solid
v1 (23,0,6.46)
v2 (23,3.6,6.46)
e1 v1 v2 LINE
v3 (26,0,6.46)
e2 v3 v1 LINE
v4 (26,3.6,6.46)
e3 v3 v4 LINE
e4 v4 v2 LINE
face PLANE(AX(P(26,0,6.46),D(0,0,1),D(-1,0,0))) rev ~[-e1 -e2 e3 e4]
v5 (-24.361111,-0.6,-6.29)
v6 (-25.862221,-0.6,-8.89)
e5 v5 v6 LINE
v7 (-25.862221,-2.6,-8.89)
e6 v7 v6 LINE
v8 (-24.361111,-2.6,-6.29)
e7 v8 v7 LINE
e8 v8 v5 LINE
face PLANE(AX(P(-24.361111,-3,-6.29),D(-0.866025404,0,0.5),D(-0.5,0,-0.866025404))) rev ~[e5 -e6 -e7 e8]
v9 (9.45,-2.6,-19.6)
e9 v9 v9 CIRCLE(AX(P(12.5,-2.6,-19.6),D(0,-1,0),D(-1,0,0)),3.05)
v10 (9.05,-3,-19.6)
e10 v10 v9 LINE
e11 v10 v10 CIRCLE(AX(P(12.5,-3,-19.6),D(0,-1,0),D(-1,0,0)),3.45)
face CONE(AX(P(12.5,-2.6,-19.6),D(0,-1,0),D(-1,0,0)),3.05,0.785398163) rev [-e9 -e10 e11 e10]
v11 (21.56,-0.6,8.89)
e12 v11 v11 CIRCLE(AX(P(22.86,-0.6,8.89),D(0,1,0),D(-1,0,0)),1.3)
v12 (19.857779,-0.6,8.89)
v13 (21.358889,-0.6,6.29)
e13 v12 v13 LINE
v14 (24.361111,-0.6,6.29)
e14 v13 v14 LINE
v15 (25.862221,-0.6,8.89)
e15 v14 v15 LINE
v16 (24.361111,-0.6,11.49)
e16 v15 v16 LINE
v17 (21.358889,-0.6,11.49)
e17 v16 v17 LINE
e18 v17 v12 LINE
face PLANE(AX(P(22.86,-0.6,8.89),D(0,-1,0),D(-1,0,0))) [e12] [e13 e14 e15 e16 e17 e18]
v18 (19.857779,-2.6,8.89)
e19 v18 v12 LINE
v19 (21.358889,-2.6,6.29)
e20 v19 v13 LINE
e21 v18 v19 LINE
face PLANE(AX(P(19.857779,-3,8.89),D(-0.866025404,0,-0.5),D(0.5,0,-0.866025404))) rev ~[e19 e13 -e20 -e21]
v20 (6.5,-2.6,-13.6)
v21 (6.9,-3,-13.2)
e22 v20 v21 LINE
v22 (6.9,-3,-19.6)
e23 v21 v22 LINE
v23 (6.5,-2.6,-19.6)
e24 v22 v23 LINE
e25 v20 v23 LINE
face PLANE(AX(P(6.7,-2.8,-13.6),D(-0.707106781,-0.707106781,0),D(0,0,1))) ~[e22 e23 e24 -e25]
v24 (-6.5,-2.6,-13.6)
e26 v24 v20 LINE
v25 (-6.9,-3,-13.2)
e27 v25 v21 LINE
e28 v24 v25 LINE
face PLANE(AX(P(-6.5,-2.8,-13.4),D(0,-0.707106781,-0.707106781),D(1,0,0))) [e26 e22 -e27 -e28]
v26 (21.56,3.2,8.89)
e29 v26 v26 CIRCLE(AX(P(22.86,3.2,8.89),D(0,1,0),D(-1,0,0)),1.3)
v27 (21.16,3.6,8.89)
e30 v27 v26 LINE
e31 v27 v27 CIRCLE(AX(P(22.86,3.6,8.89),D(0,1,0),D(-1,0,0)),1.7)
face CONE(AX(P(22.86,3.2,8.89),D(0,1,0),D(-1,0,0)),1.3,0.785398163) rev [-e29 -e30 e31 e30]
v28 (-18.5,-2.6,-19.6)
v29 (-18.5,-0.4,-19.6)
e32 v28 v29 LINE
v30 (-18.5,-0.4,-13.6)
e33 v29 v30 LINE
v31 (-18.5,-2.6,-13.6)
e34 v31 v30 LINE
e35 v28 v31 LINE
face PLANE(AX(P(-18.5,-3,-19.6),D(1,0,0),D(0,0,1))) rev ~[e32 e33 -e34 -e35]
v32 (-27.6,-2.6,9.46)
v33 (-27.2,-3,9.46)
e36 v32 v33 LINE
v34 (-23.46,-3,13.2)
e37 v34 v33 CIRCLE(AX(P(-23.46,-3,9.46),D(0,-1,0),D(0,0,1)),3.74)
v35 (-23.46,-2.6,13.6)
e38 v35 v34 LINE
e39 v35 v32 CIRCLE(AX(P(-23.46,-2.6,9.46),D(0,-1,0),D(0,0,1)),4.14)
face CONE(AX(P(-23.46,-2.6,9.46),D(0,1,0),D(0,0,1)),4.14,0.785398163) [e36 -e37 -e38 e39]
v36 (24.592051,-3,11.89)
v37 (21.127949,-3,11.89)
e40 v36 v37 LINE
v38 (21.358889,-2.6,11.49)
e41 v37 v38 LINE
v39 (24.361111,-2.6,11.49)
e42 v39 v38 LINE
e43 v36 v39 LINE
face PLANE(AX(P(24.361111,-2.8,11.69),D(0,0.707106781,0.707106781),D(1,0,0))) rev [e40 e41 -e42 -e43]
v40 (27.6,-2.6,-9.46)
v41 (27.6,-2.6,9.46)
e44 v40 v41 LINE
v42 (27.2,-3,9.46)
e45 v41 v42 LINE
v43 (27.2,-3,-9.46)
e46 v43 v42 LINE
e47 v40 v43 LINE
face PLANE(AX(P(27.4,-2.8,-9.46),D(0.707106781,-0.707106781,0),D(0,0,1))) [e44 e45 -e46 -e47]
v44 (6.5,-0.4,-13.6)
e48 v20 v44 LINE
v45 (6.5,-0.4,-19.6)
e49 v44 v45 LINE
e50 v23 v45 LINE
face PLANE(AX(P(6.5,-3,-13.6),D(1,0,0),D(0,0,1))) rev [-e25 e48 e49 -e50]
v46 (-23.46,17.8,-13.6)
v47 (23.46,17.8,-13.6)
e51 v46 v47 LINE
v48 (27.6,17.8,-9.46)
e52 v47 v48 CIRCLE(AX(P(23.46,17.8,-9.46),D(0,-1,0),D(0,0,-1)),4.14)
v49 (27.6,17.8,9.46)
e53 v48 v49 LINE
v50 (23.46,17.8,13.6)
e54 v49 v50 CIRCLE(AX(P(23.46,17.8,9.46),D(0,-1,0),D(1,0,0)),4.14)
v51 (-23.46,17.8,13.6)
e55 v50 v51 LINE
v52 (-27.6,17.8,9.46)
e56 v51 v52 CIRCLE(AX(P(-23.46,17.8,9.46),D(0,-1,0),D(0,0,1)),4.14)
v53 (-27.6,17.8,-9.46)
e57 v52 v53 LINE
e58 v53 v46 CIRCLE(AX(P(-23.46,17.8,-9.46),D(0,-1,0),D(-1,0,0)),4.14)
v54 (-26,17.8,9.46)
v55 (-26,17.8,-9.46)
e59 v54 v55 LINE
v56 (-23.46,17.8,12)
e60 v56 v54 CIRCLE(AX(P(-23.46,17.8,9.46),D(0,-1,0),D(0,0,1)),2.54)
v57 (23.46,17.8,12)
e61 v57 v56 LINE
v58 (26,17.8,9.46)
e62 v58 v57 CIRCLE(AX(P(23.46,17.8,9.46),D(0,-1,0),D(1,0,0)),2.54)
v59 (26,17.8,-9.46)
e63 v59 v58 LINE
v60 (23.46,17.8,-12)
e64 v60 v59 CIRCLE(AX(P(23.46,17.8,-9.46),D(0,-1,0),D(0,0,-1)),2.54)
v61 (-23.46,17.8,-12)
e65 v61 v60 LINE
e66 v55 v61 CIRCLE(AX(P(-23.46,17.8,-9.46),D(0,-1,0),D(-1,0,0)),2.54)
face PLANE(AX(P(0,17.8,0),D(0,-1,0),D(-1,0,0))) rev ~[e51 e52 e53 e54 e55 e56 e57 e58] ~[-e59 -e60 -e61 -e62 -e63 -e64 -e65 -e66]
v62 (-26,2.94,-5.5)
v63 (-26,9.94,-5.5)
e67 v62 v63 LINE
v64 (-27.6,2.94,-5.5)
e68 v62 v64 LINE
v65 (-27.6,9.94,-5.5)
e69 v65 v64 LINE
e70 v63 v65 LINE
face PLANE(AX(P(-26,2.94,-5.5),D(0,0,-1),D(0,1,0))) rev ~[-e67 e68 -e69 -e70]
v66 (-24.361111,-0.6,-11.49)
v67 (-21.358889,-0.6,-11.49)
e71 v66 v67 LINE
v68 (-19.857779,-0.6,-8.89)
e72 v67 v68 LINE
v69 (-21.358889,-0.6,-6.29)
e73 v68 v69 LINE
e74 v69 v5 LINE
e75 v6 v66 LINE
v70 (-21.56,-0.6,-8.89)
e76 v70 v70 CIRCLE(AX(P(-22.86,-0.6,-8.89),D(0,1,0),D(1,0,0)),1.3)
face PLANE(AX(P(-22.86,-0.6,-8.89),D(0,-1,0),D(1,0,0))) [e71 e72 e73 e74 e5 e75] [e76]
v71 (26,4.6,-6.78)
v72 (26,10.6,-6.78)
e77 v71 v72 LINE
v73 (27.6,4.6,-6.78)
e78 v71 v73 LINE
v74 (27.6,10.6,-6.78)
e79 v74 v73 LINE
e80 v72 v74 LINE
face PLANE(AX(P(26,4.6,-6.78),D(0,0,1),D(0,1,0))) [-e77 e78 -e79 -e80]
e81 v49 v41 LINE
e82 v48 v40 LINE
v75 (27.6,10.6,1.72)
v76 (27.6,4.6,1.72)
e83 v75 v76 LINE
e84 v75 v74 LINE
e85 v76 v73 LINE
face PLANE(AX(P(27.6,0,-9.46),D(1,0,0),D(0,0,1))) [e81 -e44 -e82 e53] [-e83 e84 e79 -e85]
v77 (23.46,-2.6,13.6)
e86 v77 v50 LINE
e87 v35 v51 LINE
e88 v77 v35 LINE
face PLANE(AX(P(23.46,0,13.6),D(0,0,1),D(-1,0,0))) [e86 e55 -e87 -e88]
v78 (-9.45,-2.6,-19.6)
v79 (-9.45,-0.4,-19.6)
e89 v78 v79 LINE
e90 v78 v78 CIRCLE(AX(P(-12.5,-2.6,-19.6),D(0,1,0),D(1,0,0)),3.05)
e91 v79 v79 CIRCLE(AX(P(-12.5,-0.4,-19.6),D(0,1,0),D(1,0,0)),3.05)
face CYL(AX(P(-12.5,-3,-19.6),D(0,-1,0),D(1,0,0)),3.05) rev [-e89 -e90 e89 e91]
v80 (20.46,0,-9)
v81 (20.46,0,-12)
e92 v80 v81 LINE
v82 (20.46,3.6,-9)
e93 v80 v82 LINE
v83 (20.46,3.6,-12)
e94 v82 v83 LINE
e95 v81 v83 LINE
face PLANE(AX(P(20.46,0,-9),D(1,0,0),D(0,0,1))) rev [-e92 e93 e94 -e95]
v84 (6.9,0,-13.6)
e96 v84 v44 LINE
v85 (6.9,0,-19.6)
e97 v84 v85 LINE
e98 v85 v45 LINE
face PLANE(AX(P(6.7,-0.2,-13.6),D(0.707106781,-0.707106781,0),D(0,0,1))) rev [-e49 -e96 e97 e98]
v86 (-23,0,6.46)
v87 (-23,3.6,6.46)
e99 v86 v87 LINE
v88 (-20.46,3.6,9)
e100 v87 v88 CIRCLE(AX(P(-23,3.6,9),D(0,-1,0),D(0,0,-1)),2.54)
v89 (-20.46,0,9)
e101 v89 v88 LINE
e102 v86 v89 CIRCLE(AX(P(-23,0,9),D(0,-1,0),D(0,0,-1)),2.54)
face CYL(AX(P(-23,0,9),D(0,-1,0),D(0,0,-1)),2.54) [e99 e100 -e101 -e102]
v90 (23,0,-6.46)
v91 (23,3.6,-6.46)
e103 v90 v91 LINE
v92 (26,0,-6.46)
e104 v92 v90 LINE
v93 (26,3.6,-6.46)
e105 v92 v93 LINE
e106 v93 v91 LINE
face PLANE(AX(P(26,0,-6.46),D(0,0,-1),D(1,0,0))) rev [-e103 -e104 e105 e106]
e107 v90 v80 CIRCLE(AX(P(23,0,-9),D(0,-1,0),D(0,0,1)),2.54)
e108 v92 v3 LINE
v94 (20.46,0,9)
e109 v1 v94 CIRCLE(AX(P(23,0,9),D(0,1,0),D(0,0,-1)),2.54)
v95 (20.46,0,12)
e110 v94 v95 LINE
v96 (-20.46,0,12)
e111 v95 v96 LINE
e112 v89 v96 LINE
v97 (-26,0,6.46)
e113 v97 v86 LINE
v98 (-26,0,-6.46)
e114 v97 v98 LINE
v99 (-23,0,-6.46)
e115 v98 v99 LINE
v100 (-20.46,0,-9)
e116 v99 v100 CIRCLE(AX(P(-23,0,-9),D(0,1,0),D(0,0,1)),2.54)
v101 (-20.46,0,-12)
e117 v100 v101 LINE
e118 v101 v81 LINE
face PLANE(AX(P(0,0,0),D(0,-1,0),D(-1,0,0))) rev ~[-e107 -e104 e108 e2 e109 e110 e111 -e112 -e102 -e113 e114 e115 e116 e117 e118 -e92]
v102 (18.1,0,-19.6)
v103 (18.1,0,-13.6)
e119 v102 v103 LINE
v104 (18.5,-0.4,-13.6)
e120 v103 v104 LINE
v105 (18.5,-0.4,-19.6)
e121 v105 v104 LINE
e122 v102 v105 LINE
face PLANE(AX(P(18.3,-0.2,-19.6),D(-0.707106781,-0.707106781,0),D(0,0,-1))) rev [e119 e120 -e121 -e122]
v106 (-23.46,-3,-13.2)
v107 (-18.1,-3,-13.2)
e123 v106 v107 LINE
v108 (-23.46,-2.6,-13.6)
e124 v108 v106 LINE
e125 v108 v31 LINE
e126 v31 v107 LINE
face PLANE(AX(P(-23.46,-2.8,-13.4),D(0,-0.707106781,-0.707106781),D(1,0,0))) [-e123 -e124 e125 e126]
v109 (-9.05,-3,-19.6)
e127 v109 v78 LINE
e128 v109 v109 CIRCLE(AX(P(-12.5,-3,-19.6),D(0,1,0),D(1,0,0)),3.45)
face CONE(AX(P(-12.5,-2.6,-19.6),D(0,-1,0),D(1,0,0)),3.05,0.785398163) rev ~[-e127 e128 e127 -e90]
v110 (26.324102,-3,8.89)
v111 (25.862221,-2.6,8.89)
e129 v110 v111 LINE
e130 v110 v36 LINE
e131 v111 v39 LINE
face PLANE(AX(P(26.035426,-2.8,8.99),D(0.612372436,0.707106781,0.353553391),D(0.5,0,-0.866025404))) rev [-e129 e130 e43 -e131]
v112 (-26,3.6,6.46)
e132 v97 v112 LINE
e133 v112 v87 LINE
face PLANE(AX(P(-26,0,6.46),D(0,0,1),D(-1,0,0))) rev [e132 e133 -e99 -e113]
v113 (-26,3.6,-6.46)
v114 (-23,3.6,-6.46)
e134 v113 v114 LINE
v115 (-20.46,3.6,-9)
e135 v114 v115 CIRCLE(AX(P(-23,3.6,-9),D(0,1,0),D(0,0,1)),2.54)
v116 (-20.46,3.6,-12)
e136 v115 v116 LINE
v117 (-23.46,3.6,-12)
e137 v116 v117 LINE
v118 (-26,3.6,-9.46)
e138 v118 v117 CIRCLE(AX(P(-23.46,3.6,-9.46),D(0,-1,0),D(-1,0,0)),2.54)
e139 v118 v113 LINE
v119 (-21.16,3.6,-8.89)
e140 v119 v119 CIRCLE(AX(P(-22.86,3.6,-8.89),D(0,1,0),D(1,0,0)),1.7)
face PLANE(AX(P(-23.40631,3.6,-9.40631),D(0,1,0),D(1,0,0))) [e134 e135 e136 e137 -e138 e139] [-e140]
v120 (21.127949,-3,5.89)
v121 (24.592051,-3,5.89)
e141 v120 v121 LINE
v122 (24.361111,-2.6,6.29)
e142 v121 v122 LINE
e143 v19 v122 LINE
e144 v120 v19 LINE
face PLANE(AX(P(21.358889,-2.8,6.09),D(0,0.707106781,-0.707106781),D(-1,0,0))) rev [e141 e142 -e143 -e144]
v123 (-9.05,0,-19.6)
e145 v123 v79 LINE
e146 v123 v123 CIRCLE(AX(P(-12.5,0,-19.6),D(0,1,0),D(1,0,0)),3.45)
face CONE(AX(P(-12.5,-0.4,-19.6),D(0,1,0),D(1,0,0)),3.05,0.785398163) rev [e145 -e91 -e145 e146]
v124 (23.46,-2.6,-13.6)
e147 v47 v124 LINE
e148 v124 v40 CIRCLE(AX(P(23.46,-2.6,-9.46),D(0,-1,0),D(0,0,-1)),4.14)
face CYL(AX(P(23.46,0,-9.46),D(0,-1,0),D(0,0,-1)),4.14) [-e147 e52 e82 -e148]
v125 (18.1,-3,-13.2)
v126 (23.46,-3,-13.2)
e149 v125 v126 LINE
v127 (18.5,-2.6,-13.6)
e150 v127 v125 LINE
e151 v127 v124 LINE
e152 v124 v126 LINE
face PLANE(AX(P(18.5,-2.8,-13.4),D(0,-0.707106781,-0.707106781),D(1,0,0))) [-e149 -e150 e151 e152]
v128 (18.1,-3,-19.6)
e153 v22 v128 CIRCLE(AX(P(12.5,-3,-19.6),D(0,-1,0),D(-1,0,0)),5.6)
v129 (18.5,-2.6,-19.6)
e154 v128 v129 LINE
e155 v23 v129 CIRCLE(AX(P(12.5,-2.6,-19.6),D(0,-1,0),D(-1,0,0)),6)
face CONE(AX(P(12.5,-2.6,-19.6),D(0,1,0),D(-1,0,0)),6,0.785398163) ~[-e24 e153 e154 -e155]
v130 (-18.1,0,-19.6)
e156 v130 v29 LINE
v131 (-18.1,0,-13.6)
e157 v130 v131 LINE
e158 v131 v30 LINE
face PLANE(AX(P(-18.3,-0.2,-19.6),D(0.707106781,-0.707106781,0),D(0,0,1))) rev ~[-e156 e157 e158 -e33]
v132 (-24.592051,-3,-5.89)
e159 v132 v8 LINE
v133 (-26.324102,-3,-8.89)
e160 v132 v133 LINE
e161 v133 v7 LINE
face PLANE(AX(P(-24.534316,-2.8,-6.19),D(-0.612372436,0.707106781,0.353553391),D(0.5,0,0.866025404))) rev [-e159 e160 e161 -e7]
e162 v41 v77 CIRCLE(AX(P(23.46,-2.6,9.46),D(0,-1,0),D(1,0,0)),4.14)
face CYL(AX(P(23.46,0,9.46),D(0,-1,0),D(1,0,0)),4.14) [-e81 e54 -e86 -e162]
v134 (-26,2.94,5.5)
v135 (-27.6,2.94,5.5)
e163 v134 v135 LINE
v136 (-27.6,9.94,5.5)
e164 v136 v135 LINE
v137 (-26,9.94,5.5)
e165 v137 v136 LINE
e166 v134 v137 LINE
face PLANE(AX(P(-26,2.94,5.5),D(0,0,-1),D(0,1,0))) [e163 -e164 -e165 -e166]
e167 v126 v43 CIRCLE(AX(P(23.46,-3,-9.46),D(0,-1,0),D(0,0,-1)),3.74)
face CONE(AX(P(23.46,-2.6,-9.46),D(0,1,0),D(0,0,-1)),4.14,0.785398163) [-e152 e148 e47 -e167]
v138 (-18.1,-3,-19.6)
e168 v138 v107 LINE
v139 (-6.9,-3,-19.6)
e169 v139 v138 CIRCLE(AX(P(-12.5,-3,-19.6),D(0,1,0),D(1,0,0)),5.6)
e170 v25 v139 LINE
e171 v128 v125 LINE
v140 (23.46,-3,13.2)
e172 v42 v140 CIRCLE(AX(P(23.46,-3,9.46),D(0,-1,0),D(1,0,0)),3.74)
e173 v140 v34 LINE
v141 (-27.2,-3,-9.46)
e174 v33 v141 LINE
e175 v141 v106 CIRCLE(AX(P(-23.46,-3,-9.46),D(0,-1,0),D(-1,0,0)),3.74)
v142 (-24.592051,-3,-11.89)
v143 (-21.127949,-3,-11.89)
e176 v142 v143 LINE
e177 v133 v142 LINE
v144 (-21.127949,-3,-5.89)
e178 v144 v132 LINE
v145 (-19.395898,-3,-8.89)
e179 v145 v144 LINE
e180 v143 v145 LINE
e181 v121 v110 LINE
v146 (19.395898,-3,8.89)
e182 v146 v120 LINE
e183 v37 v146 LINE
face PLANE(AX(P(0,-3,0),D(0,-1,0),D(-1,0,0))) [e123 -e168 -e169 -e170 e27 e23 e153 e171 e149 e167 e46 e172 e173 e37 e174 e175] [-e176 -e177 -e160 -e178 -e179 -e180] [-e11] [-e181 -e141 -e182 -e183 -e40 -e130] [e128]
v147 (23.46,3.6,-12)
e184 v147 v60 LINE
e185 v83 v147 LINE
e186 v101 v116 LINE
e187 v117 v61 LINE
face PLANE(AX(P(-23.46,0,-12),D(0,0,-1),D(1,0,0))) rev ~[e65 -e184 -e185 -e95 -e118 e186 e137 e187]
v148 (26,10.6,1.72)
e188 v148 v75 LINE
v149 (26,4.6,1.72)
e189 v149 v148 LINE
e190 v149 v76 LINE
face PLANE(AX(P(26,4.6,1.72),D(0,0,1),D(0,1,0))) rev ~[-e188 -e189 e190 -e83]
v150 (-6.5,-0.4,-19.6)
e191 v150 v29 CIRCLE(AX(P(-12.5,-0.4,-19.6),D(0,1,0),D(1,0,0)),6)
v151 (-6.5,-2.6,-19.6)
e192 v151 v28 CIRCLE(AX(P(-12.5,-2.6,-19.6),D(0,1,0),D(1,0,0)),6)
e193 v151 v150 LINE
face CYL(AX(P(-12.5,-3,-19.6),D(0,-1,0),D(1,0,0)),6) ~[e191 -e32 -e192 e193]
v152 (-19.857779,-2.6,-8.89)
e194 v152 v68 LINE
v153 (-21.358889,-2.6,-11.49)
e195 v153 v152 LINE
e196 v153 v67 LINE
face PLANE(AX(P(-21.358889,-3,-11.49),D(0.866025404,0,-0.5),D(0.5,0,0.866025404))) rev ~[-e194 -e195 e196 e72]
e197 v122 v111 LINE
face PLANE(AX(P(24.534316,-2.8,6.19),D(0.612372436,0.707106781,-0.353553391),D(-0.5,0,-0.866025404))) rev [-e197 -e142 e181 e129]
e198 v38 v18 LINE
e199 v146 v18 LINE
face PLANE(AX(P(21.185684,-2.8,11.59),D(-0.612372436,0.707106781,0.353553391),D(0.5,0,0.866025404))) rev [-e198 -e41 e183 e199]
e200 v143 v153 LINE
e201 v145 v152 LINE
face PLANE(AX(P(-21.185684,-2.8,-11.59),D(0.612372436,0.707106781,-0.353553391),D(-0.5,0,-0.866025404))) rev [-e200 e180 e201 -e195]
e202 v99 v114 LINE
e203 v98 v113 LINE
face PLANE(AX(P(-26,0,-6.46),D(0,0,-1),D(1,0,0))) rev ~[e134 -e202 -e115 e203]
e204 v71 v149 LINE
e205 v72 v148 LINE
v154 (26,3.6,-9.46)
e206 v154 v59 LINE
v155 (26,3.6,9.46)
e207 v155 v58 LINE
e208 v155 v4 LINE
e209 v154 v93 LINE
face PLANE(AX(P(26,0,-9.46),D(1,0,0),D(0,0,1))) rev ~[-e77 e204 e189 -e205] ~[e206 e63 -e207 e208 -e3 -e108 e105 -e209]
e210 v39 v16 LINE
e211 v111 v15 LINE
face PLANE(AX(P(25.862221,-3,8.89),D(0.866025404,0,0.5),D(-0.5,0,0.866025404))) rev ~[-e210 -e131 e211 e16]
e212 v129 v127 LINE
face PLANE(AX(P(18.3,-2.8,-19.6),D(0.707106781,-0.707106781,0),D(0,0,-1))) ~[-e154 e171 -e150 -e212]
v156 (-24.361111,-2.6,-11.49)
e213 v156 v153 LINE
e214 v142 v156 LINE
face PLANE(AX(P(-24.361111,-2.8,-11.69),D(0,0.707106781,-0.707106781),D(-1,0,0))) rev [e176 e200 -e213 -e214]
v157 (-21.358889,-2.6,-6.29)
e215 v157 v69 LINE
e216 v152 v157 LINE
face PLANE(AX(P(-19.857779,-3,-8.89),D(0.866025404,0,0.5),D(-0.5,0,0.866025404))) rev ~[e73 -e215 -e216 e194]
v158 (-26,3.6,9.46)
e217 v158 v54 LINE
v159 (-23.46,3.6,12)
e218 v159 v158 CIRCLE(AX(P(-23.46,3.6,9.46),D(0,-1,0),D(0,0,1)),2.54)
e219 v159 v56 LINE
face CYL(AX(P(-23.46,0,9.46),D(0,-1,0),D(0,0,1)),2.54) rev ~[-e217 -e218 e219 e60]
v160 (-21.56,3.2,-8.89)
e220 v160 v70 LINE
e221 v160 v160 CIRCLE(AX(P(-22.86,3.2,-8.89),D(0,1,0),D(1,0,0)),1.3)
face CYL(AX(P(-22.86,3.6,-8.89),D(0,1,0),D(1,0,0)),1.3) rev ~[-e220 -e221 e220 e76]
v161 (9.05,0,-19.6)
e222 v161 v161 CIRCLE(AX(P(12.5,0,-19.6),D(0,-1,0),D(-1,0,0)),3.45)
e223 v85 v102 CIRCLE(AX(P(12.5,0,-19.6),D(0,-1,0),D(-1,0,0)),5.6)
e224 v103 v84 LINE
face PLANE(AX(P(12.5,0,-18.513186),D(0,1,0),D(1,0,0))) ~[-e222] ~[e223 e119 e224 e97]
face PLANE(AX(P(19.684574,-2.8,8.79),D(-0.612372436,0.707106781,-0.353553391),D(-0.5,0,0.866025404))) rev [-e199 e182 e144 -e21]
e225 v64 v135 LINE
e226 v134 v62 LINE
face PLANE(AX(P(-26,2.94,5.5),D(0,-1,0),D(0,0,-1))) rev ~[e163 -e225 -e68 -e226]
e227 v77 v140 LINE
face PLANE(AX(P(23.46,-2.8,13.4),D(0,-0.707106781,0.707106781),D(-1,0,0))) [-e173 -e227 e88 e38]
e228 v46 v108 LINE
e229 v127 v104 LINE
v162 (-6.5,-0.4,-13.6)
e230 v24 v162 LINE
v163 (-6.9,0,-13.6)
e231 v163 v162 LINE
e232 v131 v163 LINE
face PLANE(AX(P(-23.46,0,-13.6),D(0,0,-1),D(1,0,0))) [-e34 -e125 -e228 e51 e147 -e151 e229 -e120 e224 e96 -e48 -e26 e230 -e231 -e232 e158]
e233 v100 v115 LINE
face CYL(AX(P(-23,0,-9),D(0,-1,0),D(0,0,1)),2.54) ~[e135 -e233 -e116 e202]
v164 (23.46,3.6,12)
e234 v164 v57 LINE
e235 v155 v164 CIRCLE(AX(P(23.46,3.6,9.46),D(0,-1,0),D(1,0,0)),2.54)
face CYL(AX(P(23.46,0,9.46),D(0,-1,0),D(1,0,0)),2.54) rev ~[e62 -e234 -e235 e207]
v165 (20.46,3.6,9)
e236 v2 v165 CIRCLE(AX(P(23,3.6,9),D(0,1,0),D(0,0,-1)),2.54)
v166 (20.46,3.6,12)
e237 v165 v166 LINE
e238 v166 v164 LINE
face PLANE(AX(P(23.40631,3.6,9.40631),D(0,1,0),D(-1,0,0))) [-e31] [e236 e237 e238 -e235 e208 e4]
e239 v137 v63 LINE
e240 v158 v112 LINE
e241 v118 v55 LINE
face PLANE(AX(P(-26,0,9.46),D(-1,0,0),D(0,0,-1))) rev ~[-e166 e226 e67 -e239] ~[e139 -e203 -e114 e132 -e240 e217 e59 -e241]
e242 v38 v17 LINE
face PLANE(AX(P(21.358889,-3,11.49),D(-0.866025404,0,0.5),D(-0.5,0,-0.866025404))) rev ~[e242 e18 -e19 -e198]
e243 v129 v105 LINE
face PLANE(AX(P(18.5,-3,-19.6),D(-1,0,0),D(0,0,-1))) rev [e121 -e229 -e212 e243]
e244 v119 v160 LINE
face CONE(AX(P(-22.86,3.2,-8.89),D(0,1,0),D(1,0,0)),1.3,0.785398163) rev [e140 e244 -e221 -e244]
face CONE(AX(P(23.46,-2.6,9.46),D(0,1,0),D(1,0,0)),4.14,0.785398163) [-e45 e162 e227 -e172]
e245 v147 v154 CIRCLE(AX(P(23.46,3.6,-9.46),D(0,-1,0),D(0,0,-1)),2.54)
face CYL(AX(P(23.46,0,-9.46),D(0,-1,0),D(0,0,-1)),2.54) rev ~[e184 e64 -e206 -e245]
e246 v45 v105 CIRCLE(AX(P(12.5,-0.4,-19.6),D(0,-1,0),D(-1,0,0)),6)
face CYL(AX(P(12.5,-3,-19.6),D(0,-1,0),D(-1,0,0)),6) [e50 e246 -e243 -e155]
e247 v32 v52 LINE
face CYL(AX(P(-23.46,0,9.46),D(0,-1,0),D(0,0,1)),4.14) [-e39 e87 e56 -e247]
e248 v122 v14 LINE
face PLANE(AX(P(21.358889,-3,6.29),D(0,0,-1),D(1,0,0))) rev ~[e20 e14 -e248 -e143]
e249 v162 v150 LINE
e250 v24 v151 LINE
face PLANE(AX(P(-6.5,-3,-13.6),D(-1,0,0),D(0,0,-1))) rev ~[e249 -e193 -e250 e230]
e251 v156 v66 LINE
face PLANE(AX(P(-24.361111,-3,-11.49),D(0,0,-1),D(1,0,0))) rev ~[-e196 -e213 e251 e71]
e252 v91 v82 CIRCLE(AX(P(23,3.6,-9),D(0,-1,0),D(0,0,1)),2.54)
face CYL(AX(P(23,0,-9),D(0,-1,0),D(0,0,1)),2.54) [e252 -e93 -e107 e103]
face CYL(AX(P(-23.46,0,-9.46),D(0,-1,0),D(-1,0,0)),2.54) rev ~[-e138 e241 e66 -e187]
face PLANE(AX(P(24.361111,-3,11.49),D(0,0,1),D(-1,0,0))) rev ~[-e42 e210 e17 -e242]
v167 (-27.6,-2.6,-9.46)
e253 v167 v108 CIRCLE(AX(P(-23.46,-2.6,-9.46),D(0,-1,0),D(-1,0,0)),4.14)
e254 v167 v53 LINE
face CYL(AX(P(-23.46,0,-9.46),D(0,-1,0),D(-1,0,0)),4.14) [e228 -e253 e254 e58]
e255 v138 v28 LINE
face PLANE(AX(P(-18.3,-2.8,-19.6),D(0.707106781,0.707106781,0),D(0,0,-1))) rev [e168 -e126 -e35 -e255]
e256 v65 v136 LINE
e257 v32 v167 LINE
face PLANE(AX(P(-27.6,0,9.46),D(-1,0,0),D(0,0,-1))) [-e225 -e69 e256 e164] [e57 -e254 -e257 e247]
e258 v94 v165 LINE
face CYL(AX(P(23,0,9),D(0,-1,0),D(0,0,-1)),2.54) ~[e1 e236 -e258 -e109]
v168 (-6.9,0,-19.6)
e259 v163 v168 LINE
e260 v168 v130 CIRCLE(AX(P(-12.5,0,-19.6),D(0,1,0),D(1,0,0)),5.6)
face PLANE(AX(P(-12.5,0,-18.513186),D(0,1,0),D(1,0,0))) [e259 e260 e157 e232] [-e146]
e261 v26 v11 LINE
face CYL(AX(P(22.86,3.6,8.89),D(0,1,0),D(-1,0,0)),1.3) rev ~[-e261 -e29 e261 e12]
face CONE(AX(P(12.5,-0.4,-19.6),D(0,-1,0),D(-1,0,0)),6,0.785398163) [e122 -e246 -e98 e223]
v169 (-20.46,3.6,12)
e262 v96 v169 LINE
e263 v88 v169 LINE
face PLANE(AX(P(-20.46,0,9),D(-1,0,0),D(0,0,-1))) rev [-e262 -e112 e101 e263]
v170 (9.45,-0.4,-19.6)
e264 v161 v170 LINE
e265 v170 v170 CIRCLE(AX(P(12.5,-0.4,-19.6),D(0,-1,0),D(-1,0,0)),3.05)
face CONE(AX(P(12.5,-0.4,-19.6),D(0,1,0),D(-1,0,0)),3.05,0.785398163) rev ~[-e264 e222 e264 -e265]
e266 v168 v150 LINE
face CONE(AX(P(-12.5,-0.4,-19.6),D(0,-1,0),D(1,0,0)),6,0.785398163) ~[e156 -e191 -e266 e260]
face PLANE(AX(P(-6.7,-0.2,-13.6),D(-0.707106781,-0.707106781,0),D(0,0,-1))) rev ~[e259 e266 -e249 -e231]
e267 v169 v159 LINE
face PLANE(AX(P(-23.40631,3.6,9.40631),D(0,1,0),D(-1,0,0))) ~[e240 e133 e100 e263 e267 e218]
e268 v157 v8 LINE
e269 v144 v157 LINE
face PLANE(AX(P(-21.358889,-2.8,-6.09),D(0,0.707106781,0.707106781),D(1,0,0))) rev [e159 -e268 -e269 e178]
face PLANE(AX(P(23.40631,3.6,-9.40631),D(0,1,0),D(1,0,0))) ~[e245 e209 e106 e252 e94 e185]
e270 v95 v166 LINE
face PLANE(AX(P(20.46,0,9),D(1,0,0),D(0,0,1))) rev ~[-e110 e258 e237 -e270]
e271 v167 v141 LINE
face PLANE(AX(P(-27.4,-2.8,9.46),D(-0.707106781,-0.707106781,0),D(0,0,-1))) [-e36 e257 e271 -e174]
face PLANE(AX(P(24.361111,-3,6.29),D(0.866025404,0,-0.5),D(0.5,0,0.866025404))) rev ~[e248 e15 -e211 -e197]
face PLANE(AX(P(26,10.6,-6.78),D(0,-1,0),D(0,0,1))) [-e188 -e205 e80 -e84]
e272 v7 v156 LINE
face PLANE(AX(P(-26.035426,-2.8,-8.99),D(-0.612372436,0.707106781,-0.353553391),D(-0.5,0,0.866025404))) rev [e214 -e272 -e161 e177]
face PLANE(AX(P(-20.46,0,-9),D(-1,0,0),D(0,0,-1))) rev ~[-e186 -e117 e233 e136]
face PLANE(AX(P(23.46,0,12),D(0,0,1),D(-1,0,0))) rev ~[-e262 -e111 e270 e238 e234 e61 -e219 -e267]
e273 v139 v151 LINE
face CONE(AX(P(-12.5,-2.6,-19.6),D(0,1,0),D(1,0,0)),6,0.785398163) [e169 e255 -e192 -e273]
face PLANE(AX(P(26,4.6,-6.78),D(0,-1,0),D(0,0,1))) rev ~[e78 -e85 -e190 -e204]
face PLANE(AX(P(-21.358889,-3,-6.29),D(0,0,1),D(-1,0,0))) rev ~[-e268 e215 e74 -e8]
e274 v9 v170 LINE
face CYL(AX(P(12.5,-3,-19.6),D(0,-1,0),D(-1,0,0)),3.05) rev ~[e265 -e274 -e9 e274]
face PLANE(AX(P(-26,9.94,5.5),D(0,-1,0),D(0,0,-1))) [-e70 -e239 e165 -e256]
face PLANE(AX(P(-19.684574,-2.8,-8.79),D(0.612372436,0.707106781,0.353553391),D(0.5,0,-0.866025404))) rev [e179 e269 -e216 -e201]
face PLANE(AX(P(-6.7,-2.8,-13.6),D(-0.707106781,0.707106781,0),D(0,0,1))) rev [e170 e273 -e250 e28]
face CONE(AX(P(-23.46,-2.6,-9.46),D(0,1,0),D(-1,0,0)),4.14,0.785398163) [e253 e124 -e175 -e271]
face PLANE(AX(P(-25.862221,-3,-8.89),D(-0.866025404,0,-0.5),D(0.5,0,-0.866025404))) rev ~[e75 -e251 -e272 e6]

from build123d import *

# Parameters (mm, degrees)
BASE_DEPTH            = 3
WALLS_START           = 17.8
WALLS_DEPTH           = 17.8
PEDESTAL_DEPTH        = 3.6
SKETCH8_R             = 1.3
THRUHOLE_DEPTH        = 34.887460808
NUT_HOLE_DEPTH        = 2.4
MIRROR2_COPY_1_DEPTH  = 3.6
SKETCH6_R             = 3.05
EYELET_DEPTH          = 3
SKETCH4_W             = 11
SKETCH4_H             = 7
HOLE_USB_PORT_DEPTH   = 63.009354133
SKETCH5_W             = 8.5
SKETCH5_H             = 6
HOLE_SCREW_TERM_DEPTH = 63.009354133
CIRPATTERN1_COUNT     = 2
CHAMFER1_SIZE         = 0.4


with BuildPart() as part:
    # Sketch1 → base (new body)
    with BuildSketch(Plane(origin=(0, 0, 0), x_dir=(1, 0, 0), z_dir=(0, 1, 0))):
        with BuildLine():
            Line((-23.46, 13.6), (23.46, 13.6))
            ThreePointArc((23.46, 13.6), (26.387422074, 12.387422074), (27.6, 9.46))
            Line((27.6, 9.46), (27.6, -9.46))
            ThreePointArc((27.6, -9.46), (26.387422074, -12.387422074), (23.46, -13.6))
            Line((23.46, -13.6), (-23.46, -13.6))
            ThreePointArc((-23.46, -13.6), (-26.387422074, -12.387422074), (-27.6, -9.46))
            Line((-27.6, -9.46), (-27.6, 9.46))
            ThreePointArc((-27.6, 9.46), (-26.387422074, 12.387422074), (-23.46, 13.6))
        make_face()
    extrude(amount=-BASE_DEPTH)

    # Sketch1<3> → walls (add)
    with BuildSketch(Plane(origin=(0, 0, 0), x_dir=(1, 0, 0), z_dir=(0, 1, 0)).offset(WALLS_START)):
        with BuildLine():
            Line((23.46, 13.6), (-23.46, 13.6))
            ThreePointArc((-23.46, 13.6), (-26.387422074, 12.387422074), (-27.6, 9.46))
            Line((-27.6, 9.46), (-27.6, -9.46))
            ThreePointArc((-27.6, -9.46), (-26.387422074, -12.387422074), (-23.46, -13.6))
            Line((-23.46, -13.6), (23.46, -13.6))
            ThreePointArc((23.46, -13.6), (26.387422074, -12.387422074), (27.6, -9.46))
            Line((27.6, -9.46), (27.6, 9.46))
            ThreePointArc((27.6, 9.46), (26.387422074, 12.387422074), (23.46, 13.6))
        make_face()
        with BuildLine():
            Line((23.46, -12), (-23.46, -12))
            ThreePointArc((-23.46, -12), (-25.256051224, -11.256051224), (-26, -9.46))
            Line((-26, -9.46), (-26, 9.46))
            ThreePointArc((-26, 9.46), (-25.256051224, 11.256051224), (-23.46, 12))
            Line((-23.46, 12), (23.46, 12))
            ThreePointArc((23.46, 12), (25.256051224, 11.256051224), (26, 9.46))
            Line((26, 9.46), (26, -9.46))
            ThreePointArc((26, -9.46), (25.256051224, -11.256051224), (23.46, -12))
        make_face(mode=Mode.SUBTRACT)
    extrude(amount=-WALLS_DEPTH)

    # Sketch2 → pedestal (add)
    with BuildSketch(Plane(origin=(0, 0, 0), x_dir=(1, 0, 0), z_dir=(0, 1, 0))):
        with BuildLine():
            Line((-26, 6.46), (-23, 6.46))
            ThreePointArc((-23, 6.46), (-21.203948776, 7.203948776), (-20.46, 9))
            Line((-20.46, 9), (-20.46, 12))
            Line((-20.46, 12), (-26, 12))
            Line((-26, 12), (-26, 6.46))
        make_face()
    pedestal = extrude(amount=PEDESTAL_DEPTH)

    # Sketch8 → thruhole (cut, through all)
    with BuildSketch(Plane(origin=(0, 3.6, 0), x_dir=(1, 0, 0), z_dir=(0, 1, 0))):
        with Locations((-22.86, 8.89)):
            Circle(SKETCH8_R)
    thruhole = extrude(amount=-THRUHOLE_DEPTH, mode=Mode.SUBTRACT)

    # Sketch10 → nut hole (cut)
    with BuildSketch(Plane.XZ.offset(3)):
        Polygon((-25.8622214, -8.89), (-24.3611107, -11.49), (-21.3588893, -11.49), (-19.8577786, -8.89), (-21.3588893, -6.29), (-24.3611107, -6.29), align=None)
    nut_hole = extrude(amount=-NUT_HOLE_DEPTH, mode=Mode.SUBTRACT)

    # Mirror1: pedestal across plane
    add(pedestal.mirror(Plane(origin=(0, 0, 0), x_dir=(0, 0, 1), z_dir=(1, 0, 0))))

    # Mirror2: pedestal across plane
    add(pedestal.mirror(Plane.XY))

    # Mirror2 copy 1 sketch → Mirror2 copy 1 (add)
    with BuildSketch(Plane(origin=(0, 0, 0), x_dir=(-1, 0, 0), z_dir=(0, 1, 0))):
        with BuildLine():
            Line((-26, 6.46), (-23, 6.46))
            ThreePointArc((-23, 6.46), (-21.203948776, 7.203948776), (-20.46, 9))
            Line((-20.46, 9), (-20.46, 12))
            Line((-20.46, 12), (-26, 12))
            Line((-26, 12), (-26, 6.46))
        make_face()
    extrude(amount=MIRROR2_COPY_1_DEPTH)

    # Sketch6 → eyelet (add)
    with BuildSketch(Plane(origin=(0, -3, 0), x_dir=(1, 0, 0), z_dir=(0, 1, 0))):
        with BuildLine():
            Line((-18.5, 19.6), (-18.5, 13.6))
            Line((-18.5, 13.6), (-6.5, 13.6))
            Line((-6.5, 13.6), (-6.5, 19.6))
            ThreePointArc((-6.5, 19.6), (-12.5, 25.6), (-18.5, 19.6))
        make_face()
        with Locations((-12.5, 19.6)):
            Circle(SKETCH6_R, mode=Mode.SUBTRACT)
    eyelet = extrude(amount=EYELET_DEPTH)

    # Mirror3: eyelet across plane
    add(eyelet.mirror(Plane(origin=(0, 0, 0), x_dir=(0, 0, 1), z_dir=(1, 0, 0))))

    # Sketch4 → hole_USB_port (cut, through all)
    with BuildSketch(Plane(origin=(-26, 0, 0), x_dir=(0, 0, -1), z_dir=(1, 0, 0))):
        with Locations((0, 6.44)):
            Rectangle(SKETCH4_W, SKETCH4_H)
    extrude(amount=-HOLE_USB_PORT_DEPTH, mode=Mode.SUBTRACT)

    # Sketch5 → hole_screw_term (cut, through all)
    with BuildSketch(Plane.ZY.offset(-26)):
        with Locations((-2.53, 7.6)):
            Rectangle(SKETCH5_W, SKETCH5_H)
    extrude(amount=-HOLE_SCREW_TERM_DEPTH, mode=Mode.SUBTRACT)

    # CirPattern1: thruhole, nut hole ×2 about axis
    cirpattern1_axis = Axis((0, 18.84, 0), (0, -1, 0))
    add([thruhole.rotate(cirpattern1_axis, i * 360 / CIRPATTERN1_COUNT) for i in range(1, CIRPATTERN1_COUNT)], mode=Mode.SUBTRACT)
    add([nut_hole.rotate(cirpattern1_axis, i * 360 / CIRPATTERN1_COUNT) for i in range(1, CIRPATTERN1_COUNT)], mode=Mode.SUBTRACT)

    # Chamfer1
    chamfer1_edges = [part.edges().sort_by_distance(p)[0] for p in [
        (15.55, -3, -19.6),
        (-15.55, -3, -19.6),
        (-27.6, -3, 0),
        (-26.387422074, -3, 12.387422074),
        (0, -3, 13.6),
        (26.387422074, -3, 12.387422074),
        (27.6, -3, 0),
        (26.387422074, -3, -12.387422074),
        (20.98, -3, -13.6),
        (18.5, -3, -16.6),
        (12.5, -3, -25.6),
        (6.5, -3, -16.6),
        (0, -3, -13.6),
        (-6.5, -3, -16.6),
        (-12.5, -3, -25.6),
        (-18.5, -3, -16.6),
        (-20.98, -3, -13.6),
        (-26.387422074, -3, -12.387422074),
        (-25.11166605, -3, -10.19),
        (-22.86, -3, -11.49),
        (-20.60833395, -3, -10.19),
        (-20.60833395, -3, -7.59),
        (-22.86, -3, -6.29),
        (-25.11166605, -3, -7.59),
        (-24.16, 3.6, -8.89),
        (-18.5, 0, -16.6),
        (-12.5, 0, -25.6),
        (-6.5, 0, -16.6),
        (6.5, 0, -16.6),
        (12.5, 0, -25.6),
        (18.5, 0, -16.6),
        (-15.55, 0, -19.6),
        (15.55, 0, -19.6),
        (25.11166605, -3, 10.19),
        (22.86, -3, 11.49),
        (20.60833395, -3, 10.19),
        (20.60833395, -3, 7.59),
        (22.86, -3, 6.29),
        (25.11166605, -3, 7.59),
        (24.16, 3.6, 8.89),
    ]]
    chamfer(chamfer1_edges, length=CHAMFER1_SIZE)


solid = part.part
